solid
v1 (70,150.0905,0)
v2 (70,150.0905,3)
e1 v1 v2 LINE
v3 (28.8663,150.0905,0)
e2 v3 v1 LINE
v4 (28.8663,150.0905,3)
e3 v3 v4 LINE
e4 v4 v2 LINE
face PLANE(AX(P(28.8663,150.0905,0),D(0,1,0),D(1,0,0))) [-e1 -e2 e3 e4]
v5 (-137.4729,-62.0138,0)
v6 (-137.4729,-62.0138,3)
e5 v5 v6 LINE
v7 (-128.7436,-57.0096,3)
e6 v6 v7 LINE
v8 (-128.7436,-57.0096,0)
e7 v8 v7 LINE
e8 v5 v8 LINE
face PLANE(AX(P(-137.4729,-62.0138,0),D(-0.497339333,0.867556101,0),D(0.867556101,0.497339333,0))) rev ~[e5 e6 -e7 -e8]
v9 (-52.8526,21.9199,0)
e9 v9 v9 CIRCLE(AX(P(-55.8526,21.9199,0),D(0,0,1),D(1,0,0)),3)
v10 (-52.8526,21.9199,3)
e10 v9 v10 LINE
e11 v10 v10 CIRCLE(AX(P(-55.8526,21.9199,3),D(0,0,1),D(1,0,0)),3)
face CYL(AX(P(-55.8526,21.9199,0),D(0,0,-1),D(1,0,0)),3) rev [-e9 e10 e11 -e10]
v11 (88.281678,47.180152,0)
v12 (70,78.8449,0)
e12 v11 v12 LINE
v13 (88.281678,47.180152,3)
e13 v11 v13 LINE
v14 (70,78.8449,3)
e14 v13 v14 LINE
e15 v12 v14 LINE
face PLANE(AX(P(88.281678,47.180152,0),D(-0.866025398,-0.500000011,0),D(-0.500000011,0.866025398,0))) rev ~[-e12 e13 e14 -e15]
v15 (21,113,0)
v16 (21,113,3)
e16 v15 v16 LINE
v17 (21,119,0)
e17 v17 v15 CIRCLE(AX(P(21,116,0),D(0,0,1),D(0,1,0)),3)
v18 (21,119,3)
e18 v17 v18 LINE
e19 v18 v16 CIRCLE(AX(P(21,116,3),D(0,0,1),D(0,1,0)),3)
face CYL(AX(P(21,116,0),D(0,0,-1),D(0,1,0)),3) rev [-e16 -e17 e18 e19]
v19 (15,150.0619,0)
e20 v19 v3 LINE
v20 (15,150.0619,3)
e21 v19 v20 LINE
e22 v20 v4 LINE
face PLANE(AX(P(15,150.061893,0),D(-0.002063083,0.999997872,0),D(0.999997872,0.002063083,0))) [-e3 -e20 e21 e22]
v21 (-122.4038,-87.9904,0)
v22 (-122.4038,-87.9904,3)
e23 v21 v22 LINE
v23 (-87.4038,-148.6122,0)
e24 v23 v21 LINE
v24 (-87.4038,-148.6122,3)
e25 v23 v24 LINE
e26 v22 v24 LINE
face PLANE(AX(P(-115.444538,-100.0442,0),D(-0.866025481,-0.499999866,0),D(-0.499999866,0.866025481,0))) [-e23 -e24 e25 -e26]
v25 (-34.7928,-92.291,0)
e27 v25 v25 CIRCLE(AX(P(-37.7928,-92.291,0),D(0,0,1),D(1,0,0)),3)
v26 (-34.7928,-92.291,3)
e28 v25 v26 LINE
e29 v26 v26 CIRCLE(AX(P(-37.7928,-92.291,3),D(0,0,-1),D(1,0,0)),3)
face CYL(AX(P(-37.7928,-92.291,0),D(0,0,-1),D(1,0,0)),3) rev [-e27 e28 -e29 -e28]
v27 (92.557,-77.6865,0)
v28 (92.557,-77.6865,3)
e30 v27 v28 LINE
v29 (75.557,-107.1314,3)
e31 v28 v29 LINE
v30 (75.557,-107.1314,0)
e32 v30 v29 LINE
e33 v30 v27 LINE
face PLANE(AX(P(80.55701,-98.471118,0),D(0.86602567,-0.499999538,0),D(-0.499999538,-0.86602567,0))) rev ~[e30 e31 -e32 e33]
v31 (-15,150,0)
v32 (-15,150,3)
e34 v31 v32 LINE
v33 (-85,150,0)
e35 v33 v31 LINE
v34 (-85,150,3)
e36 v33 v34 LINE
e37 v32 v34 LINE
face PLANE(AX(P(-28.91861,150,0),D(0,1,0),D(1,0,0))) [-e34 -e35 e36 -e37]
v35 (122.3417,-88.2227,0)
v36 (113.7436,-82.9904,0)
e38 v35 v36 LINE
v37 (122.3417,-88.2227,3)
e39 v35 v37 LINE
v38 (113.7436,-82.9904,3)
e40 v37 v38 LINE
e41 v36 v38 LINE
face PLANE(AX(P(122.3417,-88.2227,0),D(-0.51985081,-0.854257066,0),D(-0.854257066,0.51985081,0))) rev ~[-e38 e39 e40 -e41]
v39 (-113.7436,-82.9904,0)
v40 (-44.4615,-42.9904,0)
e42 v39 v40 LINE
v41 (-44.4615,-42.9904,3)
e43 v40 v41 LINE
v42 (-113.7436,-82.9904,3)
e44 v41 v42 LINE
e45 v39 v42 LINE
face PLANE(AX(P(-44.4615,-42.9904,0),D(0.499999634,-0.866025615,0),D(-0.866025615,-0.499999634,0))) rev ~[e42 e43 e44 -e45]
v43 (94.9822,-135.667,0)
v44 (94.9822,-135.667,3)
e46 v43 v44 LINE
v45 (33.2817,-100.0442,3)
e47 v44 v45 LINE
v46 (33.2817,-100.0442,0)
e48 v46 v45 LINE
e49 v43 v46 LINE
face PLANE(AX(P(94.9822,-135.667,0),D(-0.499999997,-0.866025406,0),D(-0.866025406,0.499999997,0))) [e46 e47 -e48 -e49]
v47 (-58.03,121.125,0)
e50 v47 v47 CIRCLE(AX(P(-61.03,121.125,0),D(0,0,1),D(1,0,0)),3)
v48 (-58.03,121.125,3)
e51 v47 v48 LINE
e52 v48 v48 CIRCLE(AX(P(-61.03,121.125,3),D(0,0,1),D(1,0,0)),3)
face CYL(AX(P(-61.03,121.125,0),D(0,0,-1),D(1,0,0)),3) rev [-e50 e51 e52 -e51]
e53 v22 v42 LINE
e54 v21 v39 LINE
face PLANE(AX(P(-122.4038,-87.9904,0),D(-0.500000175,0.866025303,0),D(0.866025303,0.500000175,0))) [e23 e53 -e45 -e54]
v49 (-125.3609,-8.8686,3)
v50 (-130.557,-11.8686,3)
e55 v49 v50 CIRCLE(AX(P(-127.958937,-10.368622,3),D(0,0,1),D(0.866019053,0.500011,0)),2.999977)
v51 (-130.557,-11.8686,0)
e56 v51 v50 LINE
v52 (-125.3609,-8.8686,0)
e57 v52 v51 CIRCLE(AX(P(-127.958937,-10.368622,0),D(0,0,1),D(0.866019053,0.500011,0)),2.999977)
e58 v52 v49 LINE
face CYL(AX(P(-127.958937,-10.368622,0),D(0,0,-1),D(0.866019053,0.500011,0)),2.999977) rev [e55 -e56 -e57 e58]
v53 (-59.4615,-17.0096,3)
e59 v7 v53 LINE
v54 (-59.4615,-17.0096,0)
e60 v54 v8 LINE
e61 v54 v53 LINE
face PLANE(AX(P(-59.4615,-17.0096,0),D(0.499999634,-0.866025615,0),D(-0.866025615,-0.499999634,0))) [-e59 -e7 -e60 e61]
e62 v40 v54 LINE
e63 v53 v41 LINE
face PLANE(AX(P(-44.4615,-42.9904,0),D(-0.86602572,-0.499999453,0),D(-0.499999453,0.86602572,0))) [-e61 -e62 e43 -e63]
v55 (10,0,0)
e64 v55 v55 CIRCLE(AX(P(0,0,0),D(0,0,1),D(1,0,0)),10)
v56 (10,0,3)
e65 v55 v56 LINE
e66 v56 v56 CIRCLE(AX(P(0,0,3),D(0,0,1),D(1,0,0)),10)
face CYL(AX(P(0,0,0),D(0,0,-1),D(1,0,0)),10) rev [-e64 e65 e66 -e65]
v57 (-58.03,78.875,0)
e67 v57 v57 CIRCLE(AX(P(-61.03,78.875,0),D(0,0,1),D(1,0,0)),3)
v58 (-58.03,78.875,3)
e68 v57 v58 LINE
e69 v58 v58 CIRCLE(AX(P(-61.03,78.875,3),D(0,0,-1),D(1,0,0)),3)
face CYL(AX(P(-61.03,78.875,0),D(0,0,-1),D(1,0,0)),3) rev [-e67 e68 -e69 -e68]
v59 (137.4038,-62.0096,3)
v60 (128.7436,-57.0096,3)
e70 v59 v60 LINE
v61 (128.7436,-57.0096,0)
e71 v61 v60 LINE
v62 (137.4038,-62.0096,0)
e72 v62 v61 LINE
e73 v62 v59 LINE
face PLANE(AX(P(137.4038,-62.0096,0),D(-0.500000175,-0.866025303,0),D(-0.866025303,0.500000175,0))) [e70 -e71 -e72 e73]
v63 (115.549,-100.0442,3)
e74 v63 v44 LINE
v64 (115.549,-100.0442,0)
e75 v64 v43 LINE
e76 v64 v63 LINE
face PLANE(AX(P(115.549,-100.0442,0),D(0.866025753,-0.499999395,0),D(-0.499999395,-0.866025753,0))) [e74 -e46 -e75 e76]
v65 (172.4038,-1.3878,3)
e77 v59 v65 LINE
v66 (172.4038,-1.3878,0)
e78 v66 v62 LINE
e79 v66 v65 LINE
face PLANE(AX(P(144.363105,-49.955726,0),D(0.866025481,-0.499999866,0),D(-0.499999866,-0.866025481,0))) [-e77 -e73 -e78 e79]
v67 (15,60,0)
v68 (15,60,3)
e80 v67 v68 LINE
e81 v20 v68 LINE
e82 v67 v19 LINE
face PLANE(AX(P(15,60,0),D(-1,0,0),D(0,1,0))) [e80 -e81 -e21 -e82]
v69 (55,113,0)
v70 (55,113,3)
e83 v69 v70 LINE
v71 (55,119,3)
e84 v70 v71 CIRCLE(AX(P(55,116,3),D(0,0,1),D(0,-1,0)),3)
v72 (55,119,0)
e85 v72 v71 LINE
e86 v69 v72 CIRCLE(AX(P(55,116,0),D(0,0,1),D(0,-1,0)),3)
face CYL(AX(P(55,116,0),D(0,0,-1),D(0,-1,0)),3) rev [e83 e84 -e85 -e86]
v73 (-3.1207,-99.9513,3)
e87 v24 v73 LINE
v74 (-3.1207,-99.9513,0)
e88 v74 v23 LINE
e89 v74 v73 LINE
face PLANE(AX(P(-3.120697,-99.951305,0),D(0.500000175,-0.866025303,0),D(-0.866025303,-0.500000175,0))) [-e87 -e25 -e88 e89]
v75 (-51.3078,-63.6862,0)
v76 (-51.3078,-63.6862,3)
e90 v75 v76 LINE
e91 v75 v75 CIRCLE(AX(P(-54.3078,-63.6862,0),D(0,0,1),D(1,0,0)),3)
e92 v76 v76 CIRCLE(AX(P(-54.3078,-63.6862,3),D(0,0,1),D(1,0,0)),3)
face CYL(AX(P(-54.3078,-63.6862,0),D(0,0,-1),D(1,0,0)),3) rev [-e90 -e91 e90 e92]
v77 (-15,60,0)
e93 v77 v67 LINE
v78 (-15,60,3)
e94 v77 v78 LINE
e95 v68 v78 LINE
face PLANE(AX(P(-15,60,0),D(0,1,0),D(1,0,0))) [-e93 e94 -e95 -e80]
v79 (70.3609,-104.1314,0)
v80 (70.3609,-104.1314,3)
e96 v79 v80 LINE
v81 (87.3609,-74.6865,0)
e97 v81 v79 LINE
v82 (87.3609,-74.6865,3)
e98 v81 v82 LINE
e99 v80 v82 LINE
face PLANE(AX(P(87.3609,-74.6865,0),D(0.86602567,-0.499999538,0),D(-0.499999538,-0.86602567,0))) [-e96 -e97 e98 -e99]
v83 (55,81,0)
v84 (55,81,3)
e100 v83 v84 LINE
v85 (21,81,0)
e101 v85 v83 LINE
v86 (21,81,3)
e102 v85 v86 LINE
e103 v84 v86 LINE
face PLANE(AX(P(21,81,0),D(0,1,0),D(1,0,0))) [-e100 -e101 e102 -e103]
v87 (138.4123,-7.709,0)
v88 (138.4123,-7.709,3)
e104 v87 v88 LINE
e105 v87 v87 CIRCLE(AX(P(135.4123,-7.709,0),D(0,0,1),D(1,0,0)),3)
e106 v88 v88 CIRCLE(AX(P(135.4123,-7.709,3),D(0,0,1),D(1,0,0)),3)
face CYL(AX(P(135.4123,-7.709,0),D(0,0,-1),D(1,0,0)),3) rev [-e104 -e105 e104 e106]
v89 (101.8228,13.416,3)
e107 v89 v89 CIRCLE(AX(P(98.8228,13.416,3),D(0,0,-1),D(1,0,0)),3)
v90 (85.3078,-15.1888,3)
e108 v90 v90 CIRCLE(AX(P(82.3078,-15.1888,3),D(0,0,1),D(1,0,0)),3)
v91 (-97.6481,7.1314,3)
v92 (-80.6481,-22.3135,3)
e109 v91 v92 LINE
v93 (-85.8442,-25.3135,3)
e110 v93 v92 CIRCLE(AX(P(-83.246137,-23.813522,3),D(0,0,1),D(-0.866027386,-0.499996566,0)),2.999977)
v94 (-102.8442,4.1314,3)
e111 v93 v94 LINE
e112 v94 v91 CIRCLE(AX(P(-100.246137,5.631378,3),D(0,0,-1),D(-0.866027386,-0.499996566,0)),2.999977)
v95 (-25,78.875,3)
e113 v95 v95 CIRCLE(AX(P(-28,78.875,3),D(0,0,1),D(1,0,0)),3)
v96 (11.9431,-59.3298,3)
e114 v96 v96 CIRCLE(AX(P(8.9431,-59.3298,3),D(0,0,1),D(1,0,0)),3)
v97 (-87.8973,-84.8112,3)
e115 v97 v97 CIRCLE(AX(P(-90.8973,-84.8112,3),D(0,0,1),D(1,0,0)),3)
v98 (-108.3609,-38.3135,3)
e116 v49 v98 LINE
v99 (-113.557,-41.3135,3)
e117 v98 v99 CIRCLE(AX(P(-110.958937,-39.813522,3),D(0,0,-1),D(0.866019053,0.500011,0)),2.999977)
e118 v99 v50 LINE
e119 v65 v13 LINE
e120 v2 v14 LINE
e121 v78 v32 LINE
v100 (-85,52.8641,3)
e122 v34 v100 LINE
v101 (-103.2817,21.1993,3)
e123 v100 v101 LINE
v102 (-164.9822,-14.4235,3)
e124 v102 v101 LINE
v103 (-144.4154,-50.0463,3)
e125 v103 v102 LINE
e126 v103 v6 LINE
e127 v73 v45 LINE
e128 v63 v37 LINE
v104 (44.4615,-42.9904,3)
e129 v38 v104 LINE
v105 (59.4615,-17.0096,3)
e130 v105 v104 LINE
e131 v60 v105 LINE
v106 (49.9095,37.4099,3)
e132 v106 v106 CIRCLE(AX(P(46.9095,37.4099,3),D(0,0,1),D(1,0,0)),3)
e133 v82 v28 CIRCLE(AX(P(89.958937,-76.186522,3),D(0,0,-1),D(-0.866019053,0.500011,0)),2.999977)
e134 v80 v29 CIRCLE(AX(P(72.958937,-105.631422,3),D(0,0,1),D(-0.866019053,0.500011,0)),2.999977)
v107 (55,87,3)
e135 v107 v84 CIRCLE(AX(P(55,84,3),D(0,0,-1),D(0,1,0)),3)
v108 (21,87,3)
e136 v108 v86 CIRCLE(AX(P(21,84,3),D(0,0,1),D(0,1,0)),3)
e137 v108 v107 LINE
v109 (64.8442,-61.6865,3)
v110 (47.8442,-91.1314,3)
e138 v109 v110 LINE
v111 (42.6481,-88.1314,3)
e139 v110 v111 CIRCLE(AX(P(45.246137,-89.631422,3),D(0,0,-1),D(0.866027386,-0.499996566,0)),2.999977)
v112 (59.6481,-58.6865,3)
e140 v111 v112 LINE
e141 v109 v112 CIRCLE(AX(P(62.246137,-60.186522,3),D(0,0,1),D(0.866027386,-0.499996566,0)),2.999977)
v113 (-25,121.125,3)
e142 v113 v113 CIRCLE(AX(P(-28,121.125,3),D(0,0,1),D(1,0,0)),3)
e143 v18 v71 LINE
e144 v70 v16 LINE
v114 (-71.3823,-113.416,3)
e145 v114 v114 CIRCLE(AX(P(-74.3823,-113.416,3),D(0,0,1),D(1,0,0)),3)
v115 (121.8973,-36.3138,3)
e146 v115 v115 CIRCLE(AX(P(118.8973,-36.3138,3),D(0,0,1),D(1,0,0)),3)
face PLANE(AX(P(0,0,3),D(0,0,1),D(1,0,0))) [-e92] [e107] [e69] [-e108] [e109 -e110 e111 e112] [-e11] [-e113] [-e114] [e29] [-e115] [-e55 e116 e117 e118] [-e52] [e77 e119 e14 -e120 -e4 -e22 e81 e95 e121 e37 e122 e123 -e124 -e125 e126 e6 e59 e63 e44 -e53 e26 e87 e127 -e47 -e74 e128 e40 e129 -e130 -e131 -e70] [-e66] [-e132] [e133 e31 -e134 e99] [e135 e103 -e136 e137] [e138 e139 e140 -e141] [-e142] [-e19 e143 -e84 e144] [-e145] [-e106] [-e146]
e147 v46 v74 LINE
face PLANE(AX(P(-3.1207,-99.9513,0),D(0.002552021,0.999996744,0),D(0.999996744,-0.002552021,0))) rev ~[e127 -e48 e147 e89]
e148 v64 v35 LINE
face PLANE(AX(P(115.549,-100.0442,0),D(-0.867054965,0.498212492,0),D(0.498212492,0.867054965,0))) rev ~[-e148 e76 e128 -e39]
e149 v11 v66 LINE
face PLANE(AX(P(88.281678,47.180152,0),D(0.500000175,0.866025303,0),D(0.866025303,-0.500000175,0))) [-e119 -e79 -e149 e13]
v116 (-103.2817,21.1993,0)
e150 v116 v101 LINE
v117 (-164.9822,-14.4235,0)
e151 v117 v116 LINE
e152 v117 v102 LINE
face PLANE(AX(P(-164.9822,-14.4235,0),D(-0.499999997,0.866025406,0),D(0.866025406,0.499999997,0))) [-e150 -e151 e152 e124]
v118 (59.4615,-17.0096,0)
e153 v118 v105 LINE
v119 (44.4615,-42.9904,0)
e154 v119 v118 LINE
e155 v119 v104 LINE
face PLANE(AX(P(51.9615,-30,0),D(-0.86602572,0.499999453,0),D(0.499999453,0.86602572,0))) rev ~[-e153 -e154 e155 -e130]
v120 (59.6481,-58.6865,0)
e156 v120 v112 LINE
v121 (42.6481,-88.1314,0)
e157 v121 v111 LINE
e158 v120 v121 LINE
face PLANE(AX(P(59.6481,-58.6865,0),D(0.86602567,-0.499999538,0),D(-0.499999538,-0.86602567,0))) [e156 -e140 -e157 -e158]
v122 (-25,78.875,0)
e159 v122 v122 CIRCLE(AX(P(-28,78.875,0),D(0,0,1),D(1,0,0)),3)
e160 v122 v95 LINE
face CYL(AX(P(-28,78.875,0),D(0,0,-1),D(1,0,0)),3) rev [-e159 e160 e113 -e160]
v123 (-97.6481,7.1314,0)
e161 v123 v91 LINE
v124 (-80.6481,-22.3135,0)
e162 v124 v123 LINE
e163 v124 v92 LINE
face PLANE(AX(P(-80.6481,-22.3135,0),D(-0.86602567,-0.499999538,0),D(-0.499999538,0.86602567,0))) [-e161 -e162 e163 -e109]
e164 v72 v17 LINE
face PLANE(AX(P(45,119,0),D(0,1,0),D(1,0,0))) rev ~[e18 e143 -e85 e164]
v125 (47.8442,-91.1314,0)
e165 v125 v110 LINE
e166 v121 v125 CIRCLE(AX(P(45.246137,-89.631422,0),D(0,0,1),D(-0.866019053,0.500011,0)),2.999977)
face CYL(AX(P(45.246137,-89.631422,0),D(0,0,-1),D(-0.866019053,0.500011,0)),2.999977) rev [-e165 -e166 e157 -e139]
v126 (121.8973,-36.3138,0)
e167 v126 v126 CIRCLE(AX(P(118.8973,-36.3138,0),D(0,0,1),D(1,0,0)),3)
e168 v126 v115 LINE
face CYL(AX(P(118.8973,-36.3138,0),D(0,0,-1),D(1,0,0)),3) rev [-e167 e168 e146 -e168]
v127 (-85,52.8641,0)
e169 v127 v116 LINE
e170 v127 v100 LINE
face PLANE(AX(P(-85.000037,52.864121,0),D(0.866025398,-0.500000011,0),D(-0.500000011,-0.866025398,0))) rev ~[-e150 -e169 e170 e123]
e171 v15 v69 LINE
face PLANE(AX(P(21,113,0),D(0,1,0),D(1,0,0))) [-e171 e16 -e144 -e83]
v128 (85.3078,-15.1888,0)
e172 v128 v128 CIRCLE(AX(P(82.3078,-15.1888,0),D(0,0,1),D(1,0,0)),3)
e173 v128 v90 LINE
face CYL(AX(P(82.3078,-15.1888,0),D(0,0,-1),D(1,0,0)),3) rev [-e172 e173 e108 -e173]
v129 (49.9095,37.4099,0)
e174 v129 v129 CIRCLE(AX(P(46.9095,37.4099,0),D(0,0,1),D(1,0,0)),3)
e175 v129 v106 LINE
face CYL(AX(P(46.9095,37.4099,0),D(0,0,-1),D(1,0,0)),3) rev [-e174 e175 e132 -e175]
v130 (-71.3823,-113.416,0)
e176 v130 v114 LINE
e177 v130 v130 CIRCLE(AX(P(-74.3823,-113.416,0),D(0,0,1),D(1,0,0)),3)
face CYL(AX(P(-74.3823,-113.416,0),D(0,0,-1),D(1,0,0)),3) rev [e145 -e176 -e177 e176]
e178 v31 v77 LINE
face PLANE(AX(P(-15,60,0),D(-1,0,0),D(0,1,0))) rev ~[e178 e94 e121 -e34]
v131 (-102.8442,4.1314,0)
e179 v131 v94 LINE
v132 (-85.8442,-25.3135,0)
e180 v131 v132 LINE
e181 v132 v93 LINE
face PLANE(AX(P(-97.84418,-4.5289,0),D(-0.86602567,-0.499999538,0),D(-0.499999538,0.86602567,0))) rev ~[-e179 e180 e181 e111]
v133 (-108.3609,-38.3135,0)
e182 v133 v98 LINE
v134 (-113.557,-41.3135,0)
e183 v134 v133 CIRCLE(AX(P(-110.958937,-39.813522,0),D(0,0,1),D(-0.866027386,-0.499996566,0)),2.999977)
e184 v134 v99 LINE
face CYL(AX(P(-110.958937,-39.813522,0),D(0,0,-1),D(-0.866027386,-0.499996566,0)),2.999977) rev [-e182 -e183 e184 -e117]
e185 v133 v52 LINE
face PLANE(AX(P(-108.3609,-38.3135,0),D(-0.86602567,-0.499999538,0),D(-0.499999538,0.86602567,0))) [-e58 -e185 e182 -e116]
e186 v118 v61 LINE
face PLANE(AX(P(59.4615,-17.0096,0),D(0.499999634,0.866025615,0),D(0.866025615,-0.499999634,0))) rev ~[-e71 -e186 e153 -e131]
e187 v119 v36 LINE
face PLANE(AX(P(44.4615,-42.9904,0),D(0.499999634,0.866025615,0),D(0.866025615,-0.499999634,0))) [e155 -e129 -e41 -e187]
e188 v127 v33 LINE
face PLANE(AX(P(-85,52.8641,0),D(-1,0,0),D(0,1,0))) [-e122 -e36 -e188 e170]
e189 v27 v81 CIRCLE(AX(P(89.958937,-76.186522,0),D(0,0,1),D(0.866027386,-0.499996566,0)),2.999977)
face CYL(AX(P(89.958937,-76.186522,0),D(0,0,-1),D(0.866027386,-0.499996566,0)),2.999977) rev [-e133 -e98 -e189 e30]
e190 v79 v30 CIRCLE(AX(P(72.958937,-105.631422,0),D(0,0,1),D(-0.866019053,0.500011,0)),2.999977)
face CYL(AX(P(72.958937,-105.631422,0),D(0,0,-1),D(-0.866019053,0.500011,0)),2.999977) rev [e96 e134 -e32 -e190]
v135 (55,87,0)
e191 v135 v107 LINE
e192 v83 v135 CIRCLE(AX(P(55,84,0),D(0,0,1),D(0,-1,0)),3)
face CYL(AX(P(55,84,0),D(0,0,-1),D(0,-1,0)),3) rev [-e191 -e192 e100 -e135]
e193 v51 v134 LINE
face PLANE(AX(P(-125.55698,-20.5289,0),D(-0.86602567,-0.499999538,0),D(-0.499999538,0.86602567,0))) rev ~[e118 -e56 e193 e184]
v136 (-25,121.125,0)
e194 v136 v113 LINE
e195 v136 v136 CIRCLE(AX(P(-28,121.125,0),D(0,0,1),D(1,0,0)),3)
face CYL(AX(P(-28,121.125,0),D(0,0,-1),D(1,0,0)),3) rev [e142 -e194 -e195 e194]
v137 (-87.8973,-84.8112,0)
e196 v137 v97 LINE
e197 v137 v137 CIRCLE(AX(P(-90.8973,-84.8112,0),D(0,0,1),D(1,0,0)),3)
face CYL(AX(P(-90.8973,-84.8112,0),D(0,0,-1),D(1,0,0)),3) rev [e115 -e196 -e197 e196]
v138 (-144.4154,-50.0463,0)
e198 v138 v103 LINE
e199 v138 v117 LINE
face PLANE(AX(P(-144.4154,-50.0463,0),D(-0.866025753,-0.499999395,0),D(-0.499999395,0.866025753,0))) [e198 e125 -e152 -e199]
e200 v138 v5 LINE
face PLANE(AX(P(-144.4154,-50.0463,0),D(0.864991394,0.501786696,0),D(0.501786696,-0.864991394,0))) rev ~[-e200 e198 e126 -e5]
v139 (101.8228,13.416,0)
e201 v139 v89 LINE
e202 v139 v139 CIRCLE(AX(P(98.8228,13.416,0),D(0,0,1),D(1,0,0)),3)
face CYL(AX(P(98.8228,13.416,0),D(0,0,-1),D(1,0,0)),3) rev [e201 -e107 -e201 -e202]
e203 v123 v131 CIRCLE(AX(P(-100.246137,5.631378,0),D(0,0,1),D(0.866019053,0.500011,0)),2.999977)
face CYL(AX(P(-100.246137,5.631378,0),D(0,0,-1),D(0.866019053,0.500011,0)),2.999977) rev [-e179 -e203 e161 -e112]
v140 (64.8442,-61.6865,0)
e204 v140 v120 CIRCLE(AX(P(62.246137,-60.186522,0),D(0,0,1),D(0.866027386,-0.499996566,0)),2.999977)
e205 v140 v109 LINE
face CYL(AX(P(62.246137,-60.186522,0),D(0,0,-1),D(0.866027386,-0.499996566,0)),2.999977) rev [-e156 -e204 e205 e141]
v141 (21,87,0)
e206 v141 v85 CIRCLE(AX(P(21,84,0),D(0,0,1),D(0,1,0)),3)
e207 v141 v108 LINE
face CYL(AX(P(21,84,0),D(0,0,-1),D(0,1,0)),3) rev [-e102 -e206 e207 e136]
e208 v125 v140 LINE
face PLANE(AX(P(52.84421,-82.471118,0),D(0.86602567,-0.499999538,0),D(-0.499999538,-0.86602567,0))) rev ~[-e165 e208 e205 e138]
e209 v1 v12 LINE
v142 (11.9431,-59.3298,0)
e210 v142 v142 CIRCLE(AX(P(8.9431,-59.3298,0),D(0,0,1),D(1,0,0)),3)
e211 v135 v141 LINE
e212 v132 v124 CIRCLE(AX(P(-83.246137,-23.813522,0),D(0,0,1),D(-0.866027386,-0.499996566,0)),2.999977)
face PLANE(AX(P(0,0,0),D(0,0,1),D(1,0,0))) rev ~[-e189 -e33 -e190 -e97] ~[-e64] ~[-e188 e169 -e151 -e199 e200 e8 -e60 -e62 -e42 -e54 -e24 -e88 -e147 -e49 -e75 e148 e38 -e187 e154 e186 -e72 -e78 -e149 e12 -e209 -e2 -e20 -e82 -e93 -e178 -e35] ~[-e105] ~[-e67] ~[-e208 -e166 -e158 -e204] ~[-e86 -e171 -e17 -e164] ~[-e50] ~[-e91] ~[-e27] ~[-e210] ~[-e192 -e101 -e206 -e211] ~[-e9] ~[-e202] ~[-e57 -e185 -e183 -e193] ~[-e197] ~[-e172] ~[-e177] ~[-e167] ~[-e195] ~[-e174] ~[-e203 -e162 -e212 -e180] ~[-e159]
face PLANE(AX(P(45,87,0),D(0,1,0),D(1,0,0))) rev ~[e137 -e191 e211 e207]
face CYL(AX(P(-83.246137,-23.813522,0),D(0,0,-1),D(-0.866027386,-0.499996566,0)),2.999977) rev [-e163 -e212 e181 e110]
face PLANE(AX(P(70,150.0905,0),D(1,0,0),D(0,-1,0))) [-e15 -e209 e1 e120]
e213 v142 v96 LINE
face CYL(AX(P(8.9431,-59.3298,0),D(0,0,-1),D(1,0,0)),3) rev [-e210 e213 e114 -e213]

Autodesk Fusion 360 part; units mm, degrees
sketch "Boceto1" plane through (0, 0, 0) normal (0, 0, 1) x (1, 0, 0)
  circle A0 centre (0, 0) radius 100
  line L0 (0, 200.0885) -> (-173.2817, -100.0442)
  line L1 (-173.2817, -100.0442) -> (173.2817, -100.0442)
  line L2 (173.2817, -100.0442) -> (0, 200.0885)
  line L3 (0, -100.0442) -> (0, 200.0885) construction
  line L4 (-173.2817, -100.0442) -> (86.6408, 50.0221) construction
  line L5 (173.2817, -100.0442) -> (-86.6408, 50.0221) construction
  line L6 (51.9615, -30) -> (59.4615, -17.0096)
  line L7 (59.4615, -17.0096) -> (128.7436, -57.0096)
  line L8 (44.4615, -42.9904) -> (113.7436, -82.9904)
  line L9 (51.9615, -30) -> (44.4615, -42.9904)
  line L10 (-15, 60) -> (-15, 140)
  line L11 (0.5917, 60) -> (15, 60)
  line L12 (15, 60) -> (15, 140)
  line L13 (-123.1844, 140) -> (49.0279, 140)
  line L14 (-15, 60) -> (0.5917, 60)
  line L15 (157.2934, 41.8591) -> (75.3655, -100.0442)
  line L16 (-44.4615, -42.9904) -> (-113.7436, -82.9904)
  line L17 (-59.4615, -17.0096) -> (-128.7436, -57.0096)
  line L18 (-30.9577, -176.4773) -> (-124.184, -15.0046)
  line L19 (-44.4615, -42.9904) -> (-59.4615, -17.0096)
  circle A1 centre (0, 0) radius 10
  line L20 (-115.5498, 0.1381) -> (-24.8334, -156.9872) construction
  line L21 (212.8999, -69.8468) -> (210.5798, -60.2903) construction
  line L22 (57.7095, -100.0442) -> (164.8904, 85.5986) construction
  line L23 (57.7861, 100) -> (-125, 100) construction
  line L24 (-85, 150) -> (-15, 150)
  line L25 (-15, 150) -> (-15, 50)
  line L26 (-15, 50) -> (-85, 50)
  line L27 (-85, 50) -> (-85, 150)
  circle A2 centre (45, 84) radius 3
  circle A3 centre (25, 84) radius 3
  circle A4 centre (25, 116) radius 3
  circle A5 centre (45, 116) radius 3
  line L28 (28.8663, 150.0905) -> (70, 150.0905)
  line L29 (70, 150.0905) -> (70, 78.8449)
  line L30 (21, 113) -> (55, 113)
  line L31 (21, 119) -> (55, 119)
  arc A6 (55, 113) -> (55, 119) centre (55, 116) ccw
  arc A7 (21, 119) -> (21, 113) centre (21, 116) ccw
  line L32 (21, 81) -> (55, 81)
  circle A8 centre (25, 84) radius 3
  circle A9 centre (45, 84) radius 3
  line L33 (21, 87) -> (55, 87)
  arc A10 (21, 87) -> (21, 81) centre (21, 84) ccw
  arc A11 (55, 81) -> (55, 87) centre (55, 84) ccw
  line L34 (-0.8013, -98.6122) -> (-87.4038, -148.6122)
  line L35 (-35.8013, -37.9904) -> (-0.8013, -98.6122)
  line L36 (-44.4615, -42.9904) -> (-113.7436, -82.9904)
  line L37 (-122.4038, -87.9904) -> (-35.8013, -37.9904)
  line L38 (-87.4038, -148.6122) -> (-122.4038, -87.9904)
  line L39 (-59.6514, -176.6808) -> (-145.7575, -27.5406)
  line L40 (-59.4615, -17.0096) -> (-128.7436, -57.0096)
  line L41 (-52.2574, -29.4875) -> (-59.4615, -17.0096)
  line L42 (-44.4615, -42.9904) -> (-52.2574, -29.4875)
  line L43 (-80.6481, -22.3135) -> (-97.6481, 7.1314)
  circle A12 centre (-112.9589, -36.3494) radius 3
  circle A13 centre (-122.9589, -19.0289) radius 3
  circle A14 centre (-85.2461, -20.3494) radius 3
  circle A15 centre (-95.2461, -3.0289) radius 3
  line L44 (-85.8442, -25.3135) -> (-102.8442, 4.1314)
  arc A16 (-85.8442, -25.3135) -> (-80.6481, -22.3135) centre (-83.2461, -23.8135) ccw
  arc A17 (-97.6481, 7.1314) -> (-102.8442, 4.1314) centre (-100.2461, 5.6314) ccw
  arc A18 (-113.557, -41.3135) -> (-108.3609, -38.3135) centre (-110.9589, -39.8135) ccw
  line L45 (-108.3609, -38.3135) -> (-125.3609, -8.8686)
  line L46 (-113.557, -41.3135) -> (-130.557, -11.8686)
  arc A19 (-125.3609, -8.8686) -> (-130.557, -11.8686) centre (-127.9589, -10.3686) ccw
  line L47 (-144.4154, -50.0463) -> (-164.9822, -14.4235)
  line L48 (-164.9822, -14.4235) -> (-103.2817, 21.1993)
  line L49 (85.8013, 48.6122) -> (172.4038, -1.3878)
  line L50 (50.8013, -12.0096) -> (85.8013, 48.6122)
  line L51 (59.4615, -17.0096) -> (128.7436, -57.0096)
  line L52 (137.4038, -62.0096) -> (50.8013, -12.0096)
  line L53 (172.4038, -1.3878) -> (137.4038, -62.0096)
  line L54 (182.8357, 36.6808) -> (96.7296, -112.4594)
  line L55 (44.4615, -42.9904) -> (113.7436, -82.9904)
  line L56 (51.6657, -30.5125) -> (44.4615, -42.9904)
  line L57 (59.4615, -17.0096) -> (51.6657, -30.5125)
  line L58 (59.6481, -58.6865) -> (42.6481, -88.1314)
  circle A20 centre (87.9589, -79.6506) radius 3
  circle A21 centre (77.9589, -96.9711) radius 3
  circle A22 centre (60.2461, -63.6506) radius 3
  circle A23 centre (50.2461, -80.9711) radius 3
  line L59 (64.8442, -61.6865) -> (47.8442, -91.1314)
  arc A24 (64.8442, -61.6865) -> (59.6481, -58.6865) centre (62.2461, -60.1865) ccw
  arc A25 (42.6481, -88.1314) -> (47.8442, -91.1314) centre (45.2461, -89.6314) ccw
  arc A26 (92.557, -77.6865) -> (87.3609, -74.6865) centre (89.9589, -76.1865) ccw
  line L60 (87.3609, -74.6865) -> (70.3609, -104.1314)
  line L61 (92.557, -77.6865) -> (75.557, -107.1314)
  arc A27 (70.3609, -104.1314) -> (75.557, -107.1314) centre (72.9589, -105.6314) ccw
  line L62 (115.549, -100.0442) -> (94.9822, -135.667)
  line L63 (94.9822, -135.667) -> (33.2817, -100.0442)
  line L64 (-15, 150) -> (28.8663, 150.0905)
  line L65 (15, 150.0619) -> (15, 140)
  line L66 (-144.4154, -50.0463) -> (-122.4038, -87.9904)
  line L67 (115.549, -100.0442) -> (137.4038, -62.0096)
  line L68 (122.3417, -88.2227) -> (113.7436, -82.9904)
  line L69 (-137.4729, -62.0138) -> (-128.7436, -57.0096)
  circle A28 centre (118.8973, -36.3138) radius 3
  circle A29 centre (135.4123, -7.709) radius 3
  circle A30 centre (98.8228, 13.416) radius 3
  circle A31 centre (82.3078, -15.1888) radius 3
  circle A32 centre (-61.03, 121.125) radius 3
  circle A33 centre (-28, 121.125) radius 3
  circle A34 centre (-28, 78.875) radius 3
  circle A35 centre (-61.03, 78.875) radius 3
  circle A36 centre (-74.3823, -113.416) radius 3
  circle A37 centre (-90.8973, -84.8112) radius 3
  circle A38 centre (-54.3078, -63.6862) radius 3
  circle A39 centre (-37.7928, -92.291) radius 3
  line L70 (-3.1207, -99.9513) -> (33.2817, -100.0442)
  line L71 (-103.2817, 21.1993) -> (-85, 52.8641)
  line L72 (0, 0) -> (15.0803, -100.0442) construction
  circle A40 centre (8.9431, -59.3298) radius 3
  circle A41 centre (0, 0) radius 60 construction
  circle A42 centre (46.9095, 37.4099) radius 3
  circle A43 centre (-55.8526, 21.9199) radius 3
  point P0 (-86.6025, -50)
  point P1 (-85.2461, -20.3494)
  point P2 (60.2461, -63.6506)
  dimension "d1" = 200
  dimension "d5" = 80
  dimension "d6" = 60
  dimension "d7" = 30
  dimension "d8" = 80
  dimension "d9" = 30
  dimension "d10" = 15
  dimension "d13" = 60
  dimension "d16" = 80
  dimension "d17" = 30
  dimension "d18" = 15
  dimension "d19" = 60
  dimension "d22" = 80
  dimension "d24" = 80
  dimension "d25" = 20
  dimension "d27" = 70
  dimension "d28" = 100
  dimension "d29" = 50
  dimension "d47" = 6
  dimension "d48" = 6
  dimension "d49" = 6
  dimension "d50" = 6
  dimension "d51" = 20
  dimension "d52" = 20
  dimension "d53" = 32
  dimension "d55" = 10
  dimension "d56" = 10
  dimension "d57" = 16
  dimension "d58" = 16
  dimension "d59" = 32
  dimension "d60" = 10
  dimension "d61" = 4
  dimension "d62" = 4
  dimension "d63" = 10
  dimension "d68" = 6
  dimension "d69" = 13
  dimension "d70" = 21.125
  dimension "d71" = 6
  dimension "d72" = 33.03
  dimension "d73" = 21.125
  dimension "d74" = 21.125
  dimension "d76" = 360
  dimension "d94" = 36.4024
  dimension "d95" = 18.201
  dimension "d96" = 6
  dimension "d98" = 60
  dimension "d99" = 120
  dimension "d101" = 360
extrude "Extruir3" add sketch "Boceto1" along normal blind 3 contours A0 L7 L49 L50 L51 L52 A30 | A0 L2 L7 L15 L49 L51 L52 A30 | A0 L1 L8 L15 L55 L59 A25 A26 L60 L70 | A0 L6 L8 L9 L11 L12 L14 L17 L19 L25 L26 L27 L32 L33 A10 A11 L34 L35 L37 L40 L41 L42 L43 L44 A16 A17 L49 L50 L52 L55 L56 L57 L58 L59 A24 A25 L70 | L2 L7 L15 L51 L52 L54 | A0 L2 L12 L13 L30 L31 A7 L33 A11 L49 | L1 L8 L15 L54 L55 A26 L61 | L2 L52 L53 L54 | L2 L15 L49 L54 | L2 L15 L49 | L1 L54 L67 L68 | L2 L49 L53 L54 | L2 L28 L29 L30 L31 A6 | L1 L60 L61 A27 L62 L63 | A0 L1 L16 L18 L34 L36 L37 A39 | A0 L16 L34 L35 L36 L37 A39 | A0 L10 L25 L26 L27 A35 | A0 L0 L10 L13 L25 L27 A35 | L2 L13 L64 L65 | L1 L18 L34 | L0 L13 L24 L25 | L1 L18 L34 L39 | L1 L16 L18 L36 L37 L39 | L0 L13 L24 L27 | L0 L13 L27 | L1 L34 L38 L39 | L1 L37 L38 L39 | A0 L0 L17 L18 L27 L40 L44 A17 A18 L45 L71 | L0 L17 L18 L39 L40 A18 L46 | L0 L45 L46 A19 L47 L48 | L0 L39 L66 L69
